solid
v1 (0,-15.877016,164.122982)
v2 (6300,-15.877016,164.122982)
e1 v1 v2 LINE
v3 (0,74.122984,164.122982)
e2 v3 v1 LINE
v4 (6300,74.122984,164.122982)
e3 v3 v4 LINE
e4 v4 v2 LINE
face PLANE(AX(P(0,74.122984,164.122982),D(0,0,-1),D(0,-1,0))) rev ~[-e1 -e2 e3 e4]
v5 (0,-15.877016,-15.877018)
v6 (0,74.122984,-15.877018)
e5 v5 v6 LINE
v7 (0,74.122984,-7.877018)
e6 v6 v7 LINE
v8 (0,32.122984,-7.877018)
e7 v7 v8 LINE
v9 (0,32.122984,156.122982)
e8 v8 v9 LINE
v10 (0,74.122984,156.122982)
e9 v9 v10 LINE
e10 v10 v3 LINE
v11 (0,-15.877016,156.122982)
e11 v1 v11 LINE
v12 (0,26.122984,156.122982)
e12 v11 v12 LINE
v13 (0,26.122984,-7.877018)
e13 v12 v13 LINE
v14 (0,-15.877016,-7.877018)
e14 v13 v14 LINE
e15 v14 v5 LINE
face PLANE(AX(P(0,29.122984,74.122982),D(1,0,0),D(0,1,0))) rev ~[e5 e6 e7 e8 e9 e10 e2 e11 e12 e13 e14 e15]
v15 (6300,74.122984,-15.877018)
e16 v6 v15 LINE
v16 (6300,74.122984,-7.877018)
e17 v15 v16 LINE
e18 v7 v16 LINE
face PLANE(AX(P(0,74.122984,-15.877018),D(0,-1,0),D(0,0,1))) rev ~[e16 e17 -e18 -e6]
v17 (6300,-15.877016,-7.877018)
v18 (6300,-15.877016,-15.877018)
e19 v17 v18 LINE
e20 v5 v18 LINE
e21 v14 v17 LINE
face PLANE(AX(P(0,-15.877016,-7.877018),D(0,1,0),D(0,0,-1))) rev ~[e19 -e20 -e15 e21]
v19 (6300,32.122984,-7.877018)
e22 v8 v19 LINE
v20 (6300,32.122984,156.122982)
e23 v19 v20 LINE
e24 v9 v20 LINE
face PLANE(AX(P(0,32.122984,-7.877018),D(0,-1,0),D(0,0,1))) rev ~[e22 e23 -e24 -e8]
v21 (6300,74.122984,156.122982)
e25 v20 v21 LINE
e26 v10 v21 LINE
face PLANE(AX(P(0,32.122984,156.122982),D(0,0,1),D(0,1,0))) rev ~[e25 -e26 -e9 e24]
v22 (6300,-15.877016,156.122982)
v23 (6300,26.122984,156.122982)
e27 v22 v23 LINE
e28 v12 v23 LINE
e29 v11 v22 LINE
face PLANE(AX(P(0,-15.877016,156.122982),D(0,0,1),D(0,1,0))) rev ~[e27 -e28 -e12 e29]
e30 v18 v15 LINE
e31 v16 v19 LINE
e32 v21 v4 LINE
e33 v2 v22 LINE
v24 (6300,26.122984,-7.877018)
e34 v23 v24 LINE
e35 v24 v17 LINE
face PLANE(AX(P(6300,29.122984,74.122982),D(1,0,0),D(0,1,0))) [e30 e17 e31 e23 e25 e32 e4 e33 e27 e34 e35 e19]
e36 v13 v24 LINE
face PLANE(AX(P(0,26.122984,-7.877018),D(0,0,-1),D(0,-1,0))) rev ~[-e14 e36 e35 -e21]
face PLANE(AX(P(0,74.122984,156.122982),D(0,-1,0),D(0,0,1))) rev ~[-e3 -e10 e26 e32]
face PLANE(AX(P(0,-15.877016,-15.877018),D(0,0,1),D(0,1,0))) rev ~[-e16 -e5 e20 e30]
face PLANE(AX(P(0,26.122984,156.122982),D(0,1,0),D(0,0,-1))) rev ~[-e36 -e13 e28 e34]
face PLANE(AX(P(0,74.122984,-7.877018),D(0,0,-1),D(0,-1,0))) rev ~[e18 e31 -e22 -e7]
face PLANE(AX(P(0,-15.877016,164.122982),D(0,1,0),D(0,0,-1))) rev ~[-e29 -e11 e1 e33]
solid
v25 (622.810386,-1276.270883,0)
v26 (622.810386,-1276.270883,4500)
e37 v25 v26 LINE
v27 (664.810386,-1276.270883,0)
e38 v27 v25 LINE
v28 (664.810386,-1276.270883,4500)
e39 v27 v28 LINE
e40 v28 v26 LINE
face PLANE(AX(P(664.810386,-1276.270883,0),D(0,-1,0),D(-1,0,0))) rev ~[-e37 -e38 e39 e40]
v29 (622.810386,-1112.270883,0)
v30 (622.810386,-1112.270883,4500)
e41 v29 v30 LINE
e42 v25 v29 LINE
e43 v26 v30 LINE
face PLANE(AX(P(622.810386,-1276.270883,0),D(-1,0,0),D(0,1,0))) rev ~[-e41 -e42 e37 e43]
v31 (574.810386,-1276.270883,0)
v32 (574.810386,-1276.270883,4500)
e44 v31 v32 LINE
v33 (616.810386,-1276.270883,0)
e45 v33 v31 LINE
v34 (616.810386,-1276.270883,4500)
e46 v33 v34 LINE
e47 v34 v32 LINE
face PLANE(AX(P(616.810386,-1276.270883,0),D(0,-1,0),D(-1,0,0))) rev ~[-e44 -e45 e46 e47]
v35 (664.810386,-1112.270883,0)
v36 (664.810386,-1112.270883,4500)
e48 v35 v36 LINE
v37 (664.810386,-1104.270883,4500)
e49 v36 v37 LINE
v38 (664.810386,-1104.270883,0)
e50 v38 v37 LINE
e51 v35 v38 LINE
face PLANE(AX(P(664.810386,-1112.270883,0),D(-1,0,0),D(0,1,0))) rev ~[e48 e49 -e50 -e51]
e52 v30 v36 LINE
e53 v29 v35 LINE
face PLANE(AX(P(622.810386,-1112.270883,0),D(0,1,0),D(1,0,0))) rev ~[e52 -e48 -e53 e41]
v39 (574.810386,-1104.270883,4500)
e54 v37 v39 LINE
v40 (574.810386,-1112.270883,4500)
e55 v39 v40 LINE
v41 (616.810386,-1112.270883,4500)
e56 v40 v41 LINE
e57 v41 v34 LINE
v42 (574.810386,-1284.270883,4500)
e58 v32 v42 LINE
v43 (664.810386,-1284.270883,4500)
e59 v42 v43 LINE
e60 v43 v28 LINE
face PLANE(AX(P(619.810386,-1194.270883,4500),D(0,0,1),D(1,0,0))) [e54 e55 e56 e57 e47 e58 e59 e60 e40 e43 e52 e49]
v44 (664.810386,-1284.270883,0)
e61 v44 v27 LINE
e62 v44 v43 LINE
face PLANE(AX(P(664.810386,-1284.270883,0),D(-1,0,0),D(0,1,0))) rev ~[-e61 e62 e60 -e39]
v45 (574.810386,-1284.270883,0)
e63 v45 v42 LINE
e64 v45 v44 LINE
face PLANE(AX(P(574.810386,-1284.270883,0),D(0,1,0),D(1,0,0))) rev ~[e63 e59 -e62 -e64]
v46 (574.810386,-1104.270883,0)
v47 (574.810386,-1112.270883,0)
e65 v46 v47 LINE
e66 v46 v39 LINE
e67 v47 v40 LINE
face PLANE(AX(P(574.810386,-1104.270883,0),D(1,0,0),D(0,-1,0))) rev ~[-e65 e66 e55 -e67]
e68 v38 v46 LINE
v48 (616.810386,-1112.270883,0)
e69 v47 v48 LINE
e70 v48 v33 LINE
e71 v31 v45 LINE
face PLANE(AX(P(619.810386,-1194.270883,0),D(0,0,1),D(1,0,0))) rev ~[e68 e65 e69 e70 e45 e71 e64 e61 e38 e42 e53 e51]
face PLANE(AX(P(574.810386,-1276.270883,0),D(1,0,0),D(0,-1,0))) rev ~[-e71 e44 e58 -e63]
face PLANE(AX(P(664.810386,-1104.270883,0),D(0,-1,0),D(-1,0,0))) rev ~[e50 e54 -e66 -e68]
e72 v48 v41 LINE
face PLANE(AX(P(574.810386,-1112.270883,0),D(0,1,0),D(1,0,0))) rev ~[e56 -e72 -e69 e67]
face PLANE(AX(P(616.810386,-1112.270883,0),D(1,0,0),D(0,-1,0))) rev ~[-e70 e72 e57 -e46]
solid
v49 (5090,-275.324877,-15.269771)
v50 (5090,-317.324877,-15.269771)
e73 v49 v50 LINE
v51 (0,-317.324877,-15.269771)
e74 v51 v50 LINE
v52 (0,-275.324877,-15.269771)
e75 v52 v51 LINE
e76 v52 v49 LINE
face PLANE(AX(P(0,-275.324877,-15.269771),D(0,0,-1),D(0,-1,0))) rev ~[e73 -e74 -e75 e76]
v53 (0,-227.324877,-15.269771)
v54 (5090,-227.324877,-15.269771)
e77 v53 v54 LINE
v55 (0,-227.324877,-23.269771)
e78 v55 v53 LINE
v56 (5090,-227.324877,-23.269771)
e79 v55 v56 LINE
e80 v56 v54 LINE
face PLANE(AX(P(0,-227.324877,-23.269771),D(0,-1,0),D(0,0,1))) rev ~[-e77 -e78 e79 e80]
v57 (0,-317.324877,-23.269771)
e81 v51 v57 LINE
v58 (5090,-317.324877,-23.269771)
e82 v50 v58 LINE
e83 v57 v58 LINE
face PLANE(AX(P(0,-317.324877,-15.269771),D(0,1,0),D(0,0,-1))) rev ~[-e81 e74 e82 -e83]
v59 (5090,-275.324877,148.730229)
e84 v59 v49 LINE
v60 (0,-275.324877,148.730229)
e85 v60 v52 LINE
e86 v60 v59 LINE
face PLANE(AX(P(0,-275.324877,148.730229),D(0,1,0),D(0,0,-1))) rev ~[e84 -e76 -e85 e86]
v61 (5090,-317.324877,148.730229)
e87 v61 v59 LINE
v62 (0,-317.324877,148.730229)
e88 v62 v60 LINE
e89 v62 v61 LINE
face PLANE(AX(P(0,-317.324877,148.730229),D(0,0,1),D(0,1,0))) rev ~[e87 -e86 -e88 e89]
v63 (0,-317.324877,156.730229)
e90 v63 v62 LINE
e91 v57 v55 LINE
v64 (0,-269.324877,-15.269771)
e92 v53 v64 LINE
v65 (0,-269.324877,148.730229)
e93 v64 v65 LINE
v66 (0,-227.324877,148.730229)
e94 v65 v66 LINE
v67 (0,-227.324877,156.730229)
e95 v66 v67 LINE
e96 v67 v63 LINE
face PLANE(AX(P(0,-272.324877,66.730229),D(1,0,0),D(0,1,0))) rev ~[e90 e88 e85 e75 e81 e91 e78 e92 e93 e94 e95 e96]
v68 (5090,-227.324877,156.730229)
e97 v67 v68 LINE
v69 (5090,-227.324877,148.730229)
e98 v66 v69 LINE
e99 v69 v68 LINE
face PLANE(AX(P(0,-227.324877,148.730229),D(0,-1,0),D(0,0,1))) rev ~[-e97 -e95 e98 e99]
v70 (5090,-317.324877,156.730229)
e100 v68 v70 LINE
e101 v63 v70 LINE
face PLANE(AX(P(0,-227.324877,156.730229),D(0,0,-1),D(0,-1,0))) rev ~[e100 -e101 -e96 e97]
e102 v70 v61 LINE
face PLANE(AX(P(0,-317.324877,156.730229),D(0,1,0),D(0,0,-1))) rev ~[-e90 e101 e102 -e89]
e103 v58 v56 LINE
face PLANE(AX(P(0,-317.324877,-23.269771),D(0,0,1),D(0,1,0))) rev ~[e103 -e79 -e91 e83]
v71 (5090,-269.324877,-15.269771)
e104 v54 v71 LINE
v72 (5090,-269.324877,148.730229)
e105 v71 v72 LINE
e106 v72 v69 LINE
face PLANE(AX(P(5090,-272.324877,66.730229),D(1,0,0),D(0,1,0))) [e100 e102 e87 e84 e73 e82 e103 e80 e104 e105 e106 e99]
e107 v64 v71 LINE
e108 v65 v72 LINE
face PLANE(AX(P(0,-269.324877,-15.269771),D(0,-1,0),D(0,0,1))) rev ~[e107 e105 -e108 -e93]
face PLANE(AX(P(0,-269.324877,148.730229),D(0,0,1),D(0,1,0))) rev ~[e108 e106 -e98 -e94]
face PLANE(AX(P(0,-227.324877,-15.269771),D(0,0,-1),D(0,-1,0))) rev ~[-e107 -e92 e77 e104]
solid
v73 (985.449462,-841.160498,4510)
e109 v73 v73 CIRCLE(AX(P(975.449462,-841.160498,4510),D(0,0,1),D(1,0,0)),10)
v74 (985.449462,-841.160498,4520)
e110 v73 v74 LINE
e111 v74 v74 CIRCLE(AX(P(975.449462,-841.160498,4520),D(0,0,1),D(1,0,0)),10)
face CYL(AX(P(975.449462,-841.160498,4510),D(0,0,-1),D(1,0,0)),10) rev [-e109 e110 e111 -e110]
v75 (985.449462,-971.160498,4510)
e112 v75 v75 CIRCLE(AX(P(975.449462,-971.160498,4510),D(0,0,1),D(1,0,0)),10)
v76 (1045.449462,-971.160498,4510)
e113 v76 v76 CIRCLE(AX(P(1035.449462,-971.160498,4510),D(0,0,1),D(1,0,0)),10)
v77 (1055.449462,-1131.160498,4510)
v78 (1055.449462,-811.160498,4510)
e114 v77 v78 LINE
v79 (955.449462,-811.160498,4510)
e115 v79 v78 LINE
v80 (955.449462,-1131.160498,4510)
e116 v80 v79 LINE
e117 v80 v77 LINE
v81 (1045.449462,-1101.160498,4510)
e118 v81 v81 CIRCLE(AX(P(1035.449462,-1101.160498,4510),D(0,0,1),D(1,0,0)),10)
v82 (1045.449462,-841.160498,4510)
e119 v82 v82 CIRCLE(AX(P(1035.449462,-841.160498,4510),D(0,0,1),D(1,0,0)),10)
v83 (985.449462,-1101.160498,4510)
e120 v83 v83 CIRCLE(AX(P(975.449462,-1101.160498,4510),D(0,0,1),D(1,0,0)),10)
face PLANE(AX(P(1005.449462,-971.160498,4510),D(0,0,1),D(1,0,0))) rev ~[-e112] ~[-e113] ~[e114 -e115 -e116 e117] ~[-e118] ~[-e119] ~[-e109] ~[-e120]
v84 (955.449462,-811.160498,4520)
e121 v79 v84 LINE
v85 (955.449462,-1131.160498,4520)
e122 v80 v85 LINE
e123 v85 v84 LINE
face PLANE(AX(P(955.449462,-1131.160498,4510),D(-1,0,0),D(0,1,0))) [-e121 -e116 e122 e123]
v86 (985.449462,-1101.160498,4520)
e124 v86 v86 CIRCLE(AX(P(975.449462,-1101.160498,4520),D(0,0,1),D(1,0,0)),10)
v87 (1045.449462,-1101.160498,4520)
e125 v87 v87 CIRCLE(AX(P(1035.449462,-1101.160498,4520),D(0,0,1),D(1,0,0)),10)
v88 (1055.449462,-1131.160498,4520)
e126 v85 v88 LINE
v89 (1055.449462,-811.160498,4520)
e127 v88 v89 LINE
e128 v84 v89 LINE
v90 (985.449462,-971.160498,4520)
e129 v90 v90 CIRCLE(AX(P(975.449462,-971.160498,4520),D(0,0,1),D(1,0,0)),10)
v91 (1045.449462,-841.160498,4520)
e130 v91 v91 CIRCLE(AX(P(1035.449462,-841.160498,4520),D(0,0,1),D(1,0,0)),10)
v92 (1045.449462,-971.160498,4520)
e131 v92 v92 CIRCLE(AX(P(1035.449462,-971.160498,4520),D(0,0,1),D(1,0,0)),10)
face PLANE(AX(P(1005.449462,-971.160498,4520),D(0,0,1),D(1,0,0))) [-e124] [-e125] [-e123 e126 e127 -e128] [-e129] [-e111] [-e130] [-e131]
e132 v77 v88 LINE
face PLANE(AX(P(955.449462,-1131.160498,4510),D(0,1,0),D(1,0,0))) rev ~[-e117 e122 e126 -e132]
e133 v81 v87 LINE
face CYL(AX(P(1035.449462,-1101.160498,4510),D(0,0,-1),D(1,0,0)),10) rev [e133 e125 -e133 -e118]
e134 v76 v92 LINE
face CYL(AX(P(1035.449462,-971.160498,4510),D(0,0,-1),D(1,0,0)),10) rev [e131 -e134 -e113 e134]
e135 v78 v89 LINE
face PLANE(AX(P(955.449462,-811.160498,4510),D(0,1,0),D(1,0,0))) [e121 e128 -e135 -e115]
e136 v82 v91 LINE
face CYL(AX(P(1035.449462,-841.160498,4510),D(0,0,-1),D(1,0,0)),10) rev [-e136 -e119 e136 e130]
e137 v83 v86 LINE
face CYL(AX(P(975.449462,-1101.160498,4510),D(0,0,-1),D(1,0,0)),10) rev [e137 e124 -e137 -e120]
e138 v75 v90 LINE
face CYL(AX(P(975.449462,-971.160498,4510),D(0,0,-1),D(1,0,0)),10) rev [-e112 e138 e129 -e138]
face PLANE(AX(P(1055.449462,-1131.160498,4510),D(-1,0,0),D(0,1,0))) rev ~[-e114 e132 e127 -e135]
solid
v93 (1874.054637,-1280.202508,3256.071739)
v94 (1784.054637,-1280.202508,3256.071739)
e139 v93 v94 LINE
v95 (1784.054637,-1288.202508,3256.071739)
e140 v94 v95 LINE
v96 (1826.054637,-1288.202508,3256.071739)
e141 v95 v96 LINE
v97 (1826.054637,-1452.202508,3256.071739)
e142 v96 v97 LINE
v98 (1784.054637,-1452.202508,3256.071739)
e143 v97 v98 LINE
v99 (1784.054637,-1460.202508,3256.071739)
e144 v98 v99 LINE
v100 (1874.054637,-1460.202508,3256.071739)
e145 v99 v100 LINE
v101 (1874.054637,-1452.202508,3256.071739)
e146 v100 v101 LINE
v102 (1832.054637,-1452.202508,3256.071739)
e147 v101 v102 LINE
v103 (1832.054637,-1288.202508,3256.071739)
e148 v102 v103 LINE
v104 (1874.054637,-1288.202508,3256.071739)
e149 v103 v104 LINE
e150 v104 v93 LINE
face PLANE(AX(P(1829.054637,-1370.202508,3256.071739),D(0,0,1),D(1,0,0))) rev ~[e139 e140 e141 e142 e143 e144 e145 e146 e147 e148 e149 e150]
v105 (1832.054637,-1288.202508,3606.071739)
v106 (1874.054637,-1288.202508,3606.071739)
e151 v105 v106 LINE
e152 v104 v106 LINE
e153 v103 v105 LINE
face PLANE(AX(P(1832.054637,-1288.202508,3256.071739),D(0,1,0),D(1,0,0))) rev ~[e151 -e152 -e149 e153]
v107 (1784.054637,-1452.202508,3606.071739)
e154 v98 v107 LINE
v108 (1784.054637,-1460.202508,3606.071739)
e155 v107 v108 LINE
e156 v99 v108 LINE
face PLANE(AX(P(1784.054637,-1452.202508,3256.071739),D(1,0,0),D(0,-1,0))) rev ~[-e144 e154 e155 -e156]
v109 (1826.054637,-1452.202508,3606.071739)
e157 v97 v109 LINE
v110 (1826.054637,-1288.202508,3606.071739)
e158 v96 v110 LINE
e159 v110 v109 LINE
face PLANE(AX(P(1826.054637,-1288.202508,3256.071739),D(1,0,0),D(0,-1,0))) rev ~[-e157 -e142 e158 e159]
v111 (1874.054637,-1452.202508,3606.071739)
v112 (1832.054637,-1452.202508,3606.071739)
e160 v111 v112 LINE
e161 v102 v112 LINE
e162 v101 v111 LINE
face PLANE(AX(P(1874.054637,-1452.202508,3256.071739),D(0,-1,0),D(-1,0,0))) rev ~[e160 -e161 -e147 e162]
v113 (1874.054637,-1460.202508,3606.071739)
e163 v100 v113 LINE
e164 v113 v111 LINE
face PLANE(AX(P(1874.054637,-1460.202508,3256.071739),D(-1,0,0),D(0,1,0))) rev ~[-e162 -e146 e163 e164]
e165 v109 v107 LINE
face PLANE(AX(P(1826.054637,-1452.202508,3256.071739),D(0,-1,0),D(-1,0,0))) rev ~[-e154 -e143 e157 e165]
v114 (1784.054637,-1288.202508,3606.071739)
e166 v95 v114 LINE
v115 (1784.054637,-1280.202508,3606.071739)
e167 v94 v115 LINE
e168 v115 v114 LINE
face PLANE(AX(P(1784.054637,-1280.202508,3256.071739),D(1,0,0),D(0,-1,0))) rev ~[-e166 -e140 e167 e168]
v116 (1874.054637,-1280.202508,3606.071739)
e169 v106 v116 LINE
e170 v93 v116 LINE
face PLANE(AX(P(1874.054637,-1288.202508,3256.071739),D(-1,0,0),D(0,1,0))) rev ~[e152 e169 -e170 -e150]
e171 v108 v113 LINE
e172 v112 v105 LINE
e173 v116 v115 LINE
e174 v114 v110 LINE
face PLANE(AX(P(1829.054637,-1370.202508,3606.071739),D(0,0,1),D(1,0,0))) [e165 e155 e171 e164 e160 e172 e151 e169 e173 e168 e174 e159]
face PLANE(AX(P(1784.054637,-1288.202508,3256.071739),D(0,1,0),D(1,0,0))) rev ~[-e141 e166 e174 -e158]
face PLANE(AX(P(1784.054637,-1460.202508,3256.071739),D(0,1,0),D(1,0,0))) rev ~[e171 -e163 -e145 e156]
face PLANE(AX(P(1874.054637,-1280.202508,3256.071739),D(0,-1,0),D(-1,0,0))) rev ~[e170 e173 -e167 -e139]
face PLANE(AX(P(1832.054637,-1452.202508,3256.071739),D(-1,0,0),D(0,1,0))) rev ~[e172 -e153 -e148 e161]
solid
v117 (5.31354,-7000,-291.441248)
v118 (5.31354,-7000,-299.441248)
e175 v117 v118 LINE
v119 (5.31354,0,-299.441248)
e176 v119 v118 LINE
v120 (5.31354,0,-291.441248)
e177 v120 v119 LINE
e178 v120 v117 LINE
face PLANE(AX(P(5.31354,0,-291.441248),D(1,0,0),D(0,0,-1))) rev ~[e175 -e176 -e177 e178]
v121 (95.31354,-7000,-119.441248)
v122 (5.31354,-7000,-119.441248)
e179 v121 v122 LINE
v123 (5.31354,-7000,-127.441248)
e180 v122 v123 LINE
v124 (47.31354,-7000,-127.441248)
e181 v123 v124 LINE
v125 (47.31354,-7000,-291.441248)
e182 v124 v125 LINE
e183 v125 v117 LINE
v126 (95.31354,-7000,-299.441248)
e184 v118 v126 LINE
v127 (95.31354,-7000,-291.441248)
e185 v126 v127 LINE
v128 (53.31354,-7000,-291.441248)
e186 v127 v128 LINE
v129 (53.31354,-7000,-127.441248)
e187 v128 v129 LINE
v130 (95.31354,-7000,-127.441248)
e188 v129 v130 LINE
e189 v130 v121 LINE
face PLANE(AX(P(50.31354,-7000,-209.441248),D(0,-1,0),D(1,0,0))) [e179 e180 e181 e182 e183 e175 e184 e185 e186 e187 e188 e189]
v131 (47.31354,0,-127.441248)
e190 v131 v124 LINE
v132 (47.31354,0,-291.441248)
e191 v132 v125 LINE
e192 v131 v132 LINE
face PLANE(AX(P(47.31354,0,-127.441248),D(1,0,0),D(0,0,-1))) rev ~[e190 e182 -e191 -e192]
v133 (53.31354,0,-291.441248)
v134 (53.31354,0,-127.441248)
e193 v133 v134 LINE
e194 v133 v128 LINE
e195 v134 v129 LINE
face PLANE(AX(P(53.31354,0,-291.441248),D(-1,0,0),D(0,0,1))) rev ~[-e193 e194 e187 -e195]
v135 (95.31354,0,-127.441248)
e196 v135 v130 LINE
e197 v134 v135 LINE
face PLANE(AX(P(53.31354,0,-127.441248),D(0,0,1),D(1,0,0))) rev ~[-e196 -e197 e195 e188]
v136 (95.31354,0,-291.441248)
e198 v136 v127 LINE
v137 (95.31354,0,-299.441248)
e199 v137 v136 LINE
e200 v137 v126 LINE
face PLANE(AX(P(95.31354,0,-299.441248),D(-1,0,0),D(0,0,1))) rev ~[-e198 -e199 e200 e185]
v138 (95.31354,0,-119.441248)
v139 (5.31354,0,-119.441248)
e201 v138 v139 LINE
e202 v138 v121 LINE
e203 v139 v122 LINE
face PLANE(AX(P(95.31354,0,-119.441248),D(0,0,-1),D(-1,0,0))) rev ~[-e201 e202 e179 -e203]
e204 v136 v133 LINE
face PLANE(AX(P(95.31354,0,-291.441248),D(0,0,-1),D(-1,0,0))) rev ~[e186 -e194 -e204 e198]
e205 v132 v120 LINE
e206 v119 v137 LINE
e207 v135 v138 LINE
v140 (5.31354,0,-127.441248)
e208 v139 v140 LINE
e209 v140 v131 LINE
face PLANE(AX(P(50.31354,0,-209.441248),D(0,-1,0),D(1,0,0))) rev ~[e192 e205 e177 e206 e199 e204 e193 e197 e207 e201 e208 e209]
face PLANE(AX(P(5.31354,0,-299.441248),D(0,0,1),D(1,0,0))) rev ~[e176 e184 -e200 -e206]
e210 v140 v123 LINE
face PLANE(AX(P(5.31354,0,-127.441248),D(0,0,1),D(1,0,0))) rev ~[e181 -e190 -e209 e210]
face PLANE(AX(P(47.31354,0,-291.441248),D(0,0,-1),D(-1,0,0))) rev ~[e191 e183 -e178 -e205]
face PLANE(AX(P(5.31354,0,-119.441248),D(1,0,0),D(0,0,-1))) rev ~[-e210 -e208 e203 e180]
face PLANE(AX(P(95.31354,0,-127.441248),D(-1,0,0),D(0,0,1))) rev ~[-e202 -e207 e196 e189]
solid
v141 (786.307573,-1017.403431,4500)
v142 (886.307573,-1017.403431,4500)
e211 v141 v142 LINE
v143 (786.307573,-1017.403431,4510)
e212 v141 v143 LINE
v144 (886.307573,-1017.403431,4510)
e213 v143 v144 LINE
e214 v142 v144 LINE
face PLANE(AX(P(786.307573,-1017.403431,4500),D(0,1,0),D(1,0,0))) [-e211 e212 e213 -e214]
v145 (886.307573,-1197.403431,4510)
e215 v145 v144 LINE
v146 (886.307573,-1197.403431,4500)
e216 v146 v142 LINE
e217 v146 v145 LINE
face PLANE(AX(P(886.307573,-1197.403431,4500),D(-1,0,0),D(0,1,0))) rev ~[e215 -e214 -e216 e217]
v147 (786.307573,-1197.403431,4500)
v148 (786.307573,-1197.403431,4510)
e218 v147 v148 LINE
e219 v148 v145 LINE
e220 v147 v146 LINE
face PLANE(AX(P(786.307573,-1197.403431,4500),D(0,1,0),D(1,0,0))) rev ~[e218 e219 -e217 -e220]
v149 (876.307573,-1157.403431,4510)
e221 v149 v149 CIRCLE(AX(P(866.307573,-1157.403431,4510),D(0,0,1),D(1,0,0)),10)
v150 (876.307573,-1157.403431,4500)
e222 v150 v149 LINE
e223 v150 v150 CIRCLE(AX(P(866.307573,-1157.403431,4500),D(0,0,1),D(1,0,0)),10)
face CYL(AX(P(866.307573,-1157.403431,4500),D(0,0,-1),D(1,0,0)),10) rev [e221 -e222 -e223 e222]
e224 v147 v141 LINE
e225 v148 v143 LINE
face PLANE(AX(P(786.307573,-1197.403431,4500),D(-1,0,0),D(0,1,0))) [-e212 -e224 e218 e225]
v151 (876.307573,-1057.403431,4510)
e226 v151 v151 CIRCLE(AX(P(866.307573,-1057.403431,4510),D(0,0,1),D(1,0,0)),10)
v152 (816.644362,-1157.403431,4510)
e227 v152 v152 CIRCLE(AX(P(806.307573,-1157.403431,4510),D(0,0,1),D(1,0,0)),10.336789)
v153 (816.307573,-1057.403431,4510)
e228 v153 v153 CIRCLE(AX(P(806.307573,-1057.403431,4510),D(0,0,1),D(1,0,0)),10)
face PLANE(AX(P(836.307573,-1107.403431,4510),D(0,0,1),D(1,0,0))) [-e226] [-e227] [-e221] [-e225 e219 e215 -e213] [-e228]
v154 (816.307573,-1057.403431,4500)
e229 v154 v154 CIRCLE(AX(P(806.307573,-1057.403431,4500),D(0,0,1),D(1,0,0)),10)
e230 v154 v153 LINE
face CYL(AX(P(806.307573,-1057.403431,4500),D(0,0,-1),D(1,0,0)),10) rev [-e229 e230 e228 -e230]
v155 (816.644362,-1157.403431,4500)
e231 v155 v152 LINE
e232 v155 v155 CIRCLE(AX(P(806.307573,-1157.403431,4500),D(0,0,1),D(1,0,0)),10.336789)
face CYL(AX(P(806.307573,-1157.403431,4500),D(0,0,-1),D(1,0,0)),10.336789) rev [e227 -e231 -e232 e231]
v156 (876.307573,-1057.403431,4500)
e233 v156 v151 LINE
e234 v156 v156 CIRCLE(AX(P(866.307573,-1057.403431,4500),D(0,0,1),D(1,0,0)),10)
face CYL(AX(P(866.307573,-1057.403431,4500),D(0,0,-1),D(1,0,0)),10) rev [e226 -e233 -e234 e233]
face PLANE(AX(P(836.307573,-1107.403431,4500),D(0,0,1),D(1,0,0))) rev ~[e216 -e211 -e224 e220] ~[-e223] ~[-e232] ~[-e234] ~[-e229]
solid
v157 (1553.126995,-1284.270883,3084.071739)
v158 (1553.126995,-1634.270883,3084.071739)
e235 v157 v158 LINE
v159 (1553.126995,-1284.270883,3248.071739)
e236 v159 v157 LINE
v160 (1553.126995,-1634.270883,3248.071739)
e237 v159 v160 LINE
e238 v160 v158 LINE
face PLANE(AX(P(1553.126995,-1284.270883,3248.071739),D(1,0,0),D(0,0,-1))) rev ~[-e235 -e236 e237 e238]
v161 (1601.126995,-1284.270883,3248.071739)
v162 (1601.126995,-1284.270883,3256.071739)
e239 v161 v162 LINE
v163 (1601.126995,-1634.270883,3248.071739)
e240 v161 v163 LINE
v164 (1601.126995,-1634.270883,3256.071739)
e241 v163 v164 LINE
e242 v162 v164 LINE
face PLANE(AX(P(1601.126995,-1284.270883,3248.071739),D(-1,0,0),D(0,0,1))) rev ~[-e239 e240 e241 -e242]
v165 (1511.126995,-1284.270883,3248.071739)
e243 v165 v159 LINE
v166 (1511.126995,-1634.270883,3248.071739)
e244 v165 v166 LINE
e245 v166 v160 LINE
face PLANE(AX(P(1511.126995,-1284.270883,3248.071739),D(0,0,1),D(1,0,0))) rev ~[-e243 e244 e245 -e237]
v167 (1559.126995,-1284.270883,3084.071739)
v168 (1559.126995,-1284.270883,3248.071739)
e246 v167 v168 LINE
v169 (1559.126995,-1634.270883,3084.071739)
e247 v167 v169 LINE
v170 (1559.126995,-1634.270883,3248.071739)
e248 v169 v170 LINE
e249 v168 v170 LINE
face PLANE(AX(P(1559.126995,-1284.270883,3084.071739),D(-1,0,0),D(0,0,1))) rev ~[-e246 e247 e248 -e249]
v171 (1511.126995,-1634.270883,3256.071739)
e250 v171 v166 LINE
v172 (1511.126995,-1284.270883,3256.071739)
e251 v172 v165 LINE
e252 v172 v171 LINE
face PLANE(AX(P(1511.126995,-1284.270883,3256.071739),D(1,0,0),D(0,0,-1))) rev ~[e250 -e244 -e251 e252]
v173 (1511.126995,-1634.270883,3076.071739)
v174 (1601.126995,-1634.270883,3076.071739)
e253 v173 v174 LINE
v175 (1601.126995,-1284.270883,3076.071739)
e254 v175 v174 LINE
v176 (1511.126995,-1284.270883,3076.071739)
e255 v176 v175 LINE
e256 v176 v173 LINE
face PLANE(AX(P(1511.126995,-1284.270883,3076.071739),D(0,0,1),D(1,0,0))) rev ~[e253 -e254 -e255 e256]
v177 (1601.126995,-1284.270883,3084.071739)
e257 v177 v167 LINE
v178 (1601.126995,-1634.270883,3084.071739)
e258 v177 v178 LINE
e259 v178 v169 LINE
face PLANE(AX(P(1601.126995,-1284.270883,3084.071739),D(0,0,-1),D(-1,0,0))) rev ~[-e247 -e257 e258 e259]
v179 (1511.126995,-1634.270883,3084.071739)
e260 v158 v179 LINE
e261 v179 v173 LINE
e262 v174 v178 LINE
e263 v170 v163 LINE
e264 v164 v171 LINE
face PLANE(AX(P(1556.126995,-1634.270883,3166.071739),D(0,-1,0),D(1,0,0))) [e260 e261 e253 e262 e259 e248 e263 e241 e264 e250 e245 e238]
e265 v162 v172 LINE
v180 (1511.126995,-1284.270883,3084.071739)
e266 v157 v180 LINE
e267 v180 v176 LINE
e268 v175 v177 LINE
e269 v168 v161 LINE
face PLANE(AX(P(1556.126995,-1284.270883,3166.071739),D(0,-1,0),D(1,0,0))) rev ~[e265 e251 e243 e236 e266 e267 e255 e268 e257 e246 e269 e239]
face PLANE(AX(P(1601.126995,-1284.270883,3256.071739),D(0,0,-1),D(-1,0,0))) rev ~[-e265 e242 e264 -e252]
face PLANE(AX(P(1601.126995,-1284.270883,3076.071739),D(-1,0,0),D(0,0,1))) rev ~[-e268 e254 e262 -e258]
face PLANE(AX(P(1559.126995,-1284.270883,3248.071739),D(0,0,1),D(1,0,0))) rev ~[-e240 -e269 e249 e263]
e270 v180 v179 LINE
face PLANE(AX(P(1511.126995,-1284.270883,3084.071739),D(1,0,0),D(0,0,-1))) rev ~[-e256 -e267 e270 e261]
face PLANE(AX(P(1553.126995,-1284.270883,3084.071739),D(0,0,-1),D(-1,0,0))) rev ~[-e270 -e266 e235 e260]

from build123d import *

# Parameters (mm, degrees)
F1_DEPTH  = 6300
F3_DEPTH  = 7000
F5_DEPTH  = 5090
F7_DEPTH  = 4500
F8_W      = 100
F8_H      = 180
F8_R      = 10.336789
F8_R_2    = 10
F9_DEPTH  = 10
F10_W     = 100
F10_H     = 320
F10_R     = 10
F11_DEPTH = 10
F13_DEPTH = 350
F15_DEPTH = 350


with BuildPart() as f1:
    # F0 (on Right) → F1 (new body)
    with BuildSketch(Plane.YZ):
        Polygon((-15.877016, -15.877018), (74.122984, -15.877018), (74.122984, -7.877018), (32.122984, -7.877018), (32.122984, 156.122982), (74.122984, 156.122982), (74.122984, 164.122982), (-15.877016, 164.122982), (-15.877016, 156.122982), (26.122984, 156.122982), (26.122984, -7.877018), (-15.877016, -7.877018), align=None)
    extrude(amount=F1_DEPTH)


with BuildPart() as f3:
    # F2 (on Front) → F3 (new body)
    with BuildSketch(Plane.XZ):
        Polygon((5.31354, -291.441248), (5.31354, -299.441248), (95.31354, -299.441248), (95.31354, -291.441248), (53.31354, -291.441248), (53.31354, -127.441248), (95.31354, -127.441248), (95.31354, -119.441248), (5.31354, -119.441248), (5.31354, -127.441248), (47.31354, -127.441248), (47.31354, -291.441248), align=None)
    extrude(amount=F3_DEPTH)


with BuildPart() as f5:
    # F4 (on Right) → F5 (new body)
    with BuildSketch(Plane.YZ):
        Polygon((-317.324877, -23.269771), (-227.324877, -23.269771), (-227.324877, -15.269771), (-269.324877, -15.269771), (-269.324877, 148.730229), (-227.324877, 148.730229), (-227.324877, 156.730229), (-317.324877, 156.730229), (-317.324877, 148.730229), (-275.324877, 148.730229), (-275.324877, -15.269771), (-317.324877, -15.269771), align=None)
    extrude(amount=F5_DEPTH)


with BuildPart() as f7:
    # F6 (on Top) → F7 (new body)
    with BuildSketch(Plane.XY):
        Polygon((574.810386, -1276.270883), (574.810386, -1284.270883), (664.810386, -1284.270883), (664.810386, -1276.270883), (622.810386, -1276.270883), (622.810386, -1112.270883), (664.810386, -1112.270883), (664.810386, -1104.270883), (574.810386, -1104.270883), (574.810386, -1112.270883), (616.810386, -1112.270883), (616.810386, -1276.270883), align=None)
    extrude(amount=F7_DEPTH)


with BuildPart() as f9:
    # F8 (on face) → F9 (new body)
    with BuildSketch(Plane.XY.offset(4500)):
        with Locations((836.307573, -1107.403431)):
            Rectangle(F8_W, F8_H)
        with Locations((806.307573, -1157.403431)):
            Circle(F8_R, mode=Mode.SUBTRACT)
        with Locations((866.307573, -1157.403431)):
            Circle(F8_R_2, mode=Mode.SUBTRACT)
        with Locations((806.307573, -1057.403431)):
            Circle(F8_R_2, mode=Mode.SUBTRACT)
        with Locations((866.307573, -1057.403431)):
            Circle(F8_R_2, mode=Mode.SUBTRACT)
    extrude(amount=F9_DEPTH)


with BuildPart() as f11:
    # F10 (on face) → F11 (new body)
    with BuildSketch(Plane.XY.offset(4510)):
        with Locations((1005.449462, -971.160498)):
            Rectangle(F10_W, F10_H)
        with Locations((975.449462, -1101.160498)):
            Circle(F10_R, mode=Mode.SUBTRACT)
        with Locations((1035.449462, -1101.160498)):
            Circle(F10_R, mode=Mode.SUBTRACT)
        with Locations((975.449462, -971.160498)):
            Circle(F10_R, mode=Mode.SUBTRACT)
        with Locations((1035.449462, -971.160498)):
            Circle(F10_R, mode=Mode.SUBTRACT)
        with Locations((975.449462, -841.160498)):
            Circle(F10_R, mode=Mode.SUBTRACT)
        with Locations((1035.449462, -841.160498)):
            Circle(F10_R, mode=Mode.SUBTRACT)
    extrude(amount=F11_DEPTH)


with BuildPart() as f13:
    # F12 (on face) → F13 (new body)
    with BuildSketch(Plane.XZ.offset(1284.270883)):
        Polygon((1511.126995, 3084.071739), (1511.126995, 3076.071739), (1601.126995, 3076.071739), (1601.126995, 3084.071739), (1559.126995, 3084.071739), (1559.126995, 3248.071739), (1601.126995, 3248.071739), (1601.126995, 3256.071739), (1511.126995, 3256.071739), (1511.126995, 3248.071739), (1553.126995, 3248.071739), (1553.126995, 3084.071739), align=None)
    extrude(amount=F13_DEPTH)


with BuildPart() as f15:
    # F14 (on face) → F15 (new body)
    with BuildSketch(Plane.XY.offset(3256.071739)):
        Polygon((1874.054637, -1280.202508), (1784.054637, -1280.202508), (1784.054637, -1288.202508), (1826.054637, -1288.202508), (1826.054637, -1452.202508), (1784.054637, -1452.202508), (1784.054637, -1460.202508), (1874.054637, -1460.202508), (1874.054637, -1452.202508), (1832.054637, -1452.202508), (1832.054637, -1288.202508), (1874.054637, -1288.202508), align=None)
    extrude(amount=F15_DEPTH)


solid = Compound([f1.part, f3.part, f5.part, f7.part, f9.part, f11.part, f13.part, f15.part])
